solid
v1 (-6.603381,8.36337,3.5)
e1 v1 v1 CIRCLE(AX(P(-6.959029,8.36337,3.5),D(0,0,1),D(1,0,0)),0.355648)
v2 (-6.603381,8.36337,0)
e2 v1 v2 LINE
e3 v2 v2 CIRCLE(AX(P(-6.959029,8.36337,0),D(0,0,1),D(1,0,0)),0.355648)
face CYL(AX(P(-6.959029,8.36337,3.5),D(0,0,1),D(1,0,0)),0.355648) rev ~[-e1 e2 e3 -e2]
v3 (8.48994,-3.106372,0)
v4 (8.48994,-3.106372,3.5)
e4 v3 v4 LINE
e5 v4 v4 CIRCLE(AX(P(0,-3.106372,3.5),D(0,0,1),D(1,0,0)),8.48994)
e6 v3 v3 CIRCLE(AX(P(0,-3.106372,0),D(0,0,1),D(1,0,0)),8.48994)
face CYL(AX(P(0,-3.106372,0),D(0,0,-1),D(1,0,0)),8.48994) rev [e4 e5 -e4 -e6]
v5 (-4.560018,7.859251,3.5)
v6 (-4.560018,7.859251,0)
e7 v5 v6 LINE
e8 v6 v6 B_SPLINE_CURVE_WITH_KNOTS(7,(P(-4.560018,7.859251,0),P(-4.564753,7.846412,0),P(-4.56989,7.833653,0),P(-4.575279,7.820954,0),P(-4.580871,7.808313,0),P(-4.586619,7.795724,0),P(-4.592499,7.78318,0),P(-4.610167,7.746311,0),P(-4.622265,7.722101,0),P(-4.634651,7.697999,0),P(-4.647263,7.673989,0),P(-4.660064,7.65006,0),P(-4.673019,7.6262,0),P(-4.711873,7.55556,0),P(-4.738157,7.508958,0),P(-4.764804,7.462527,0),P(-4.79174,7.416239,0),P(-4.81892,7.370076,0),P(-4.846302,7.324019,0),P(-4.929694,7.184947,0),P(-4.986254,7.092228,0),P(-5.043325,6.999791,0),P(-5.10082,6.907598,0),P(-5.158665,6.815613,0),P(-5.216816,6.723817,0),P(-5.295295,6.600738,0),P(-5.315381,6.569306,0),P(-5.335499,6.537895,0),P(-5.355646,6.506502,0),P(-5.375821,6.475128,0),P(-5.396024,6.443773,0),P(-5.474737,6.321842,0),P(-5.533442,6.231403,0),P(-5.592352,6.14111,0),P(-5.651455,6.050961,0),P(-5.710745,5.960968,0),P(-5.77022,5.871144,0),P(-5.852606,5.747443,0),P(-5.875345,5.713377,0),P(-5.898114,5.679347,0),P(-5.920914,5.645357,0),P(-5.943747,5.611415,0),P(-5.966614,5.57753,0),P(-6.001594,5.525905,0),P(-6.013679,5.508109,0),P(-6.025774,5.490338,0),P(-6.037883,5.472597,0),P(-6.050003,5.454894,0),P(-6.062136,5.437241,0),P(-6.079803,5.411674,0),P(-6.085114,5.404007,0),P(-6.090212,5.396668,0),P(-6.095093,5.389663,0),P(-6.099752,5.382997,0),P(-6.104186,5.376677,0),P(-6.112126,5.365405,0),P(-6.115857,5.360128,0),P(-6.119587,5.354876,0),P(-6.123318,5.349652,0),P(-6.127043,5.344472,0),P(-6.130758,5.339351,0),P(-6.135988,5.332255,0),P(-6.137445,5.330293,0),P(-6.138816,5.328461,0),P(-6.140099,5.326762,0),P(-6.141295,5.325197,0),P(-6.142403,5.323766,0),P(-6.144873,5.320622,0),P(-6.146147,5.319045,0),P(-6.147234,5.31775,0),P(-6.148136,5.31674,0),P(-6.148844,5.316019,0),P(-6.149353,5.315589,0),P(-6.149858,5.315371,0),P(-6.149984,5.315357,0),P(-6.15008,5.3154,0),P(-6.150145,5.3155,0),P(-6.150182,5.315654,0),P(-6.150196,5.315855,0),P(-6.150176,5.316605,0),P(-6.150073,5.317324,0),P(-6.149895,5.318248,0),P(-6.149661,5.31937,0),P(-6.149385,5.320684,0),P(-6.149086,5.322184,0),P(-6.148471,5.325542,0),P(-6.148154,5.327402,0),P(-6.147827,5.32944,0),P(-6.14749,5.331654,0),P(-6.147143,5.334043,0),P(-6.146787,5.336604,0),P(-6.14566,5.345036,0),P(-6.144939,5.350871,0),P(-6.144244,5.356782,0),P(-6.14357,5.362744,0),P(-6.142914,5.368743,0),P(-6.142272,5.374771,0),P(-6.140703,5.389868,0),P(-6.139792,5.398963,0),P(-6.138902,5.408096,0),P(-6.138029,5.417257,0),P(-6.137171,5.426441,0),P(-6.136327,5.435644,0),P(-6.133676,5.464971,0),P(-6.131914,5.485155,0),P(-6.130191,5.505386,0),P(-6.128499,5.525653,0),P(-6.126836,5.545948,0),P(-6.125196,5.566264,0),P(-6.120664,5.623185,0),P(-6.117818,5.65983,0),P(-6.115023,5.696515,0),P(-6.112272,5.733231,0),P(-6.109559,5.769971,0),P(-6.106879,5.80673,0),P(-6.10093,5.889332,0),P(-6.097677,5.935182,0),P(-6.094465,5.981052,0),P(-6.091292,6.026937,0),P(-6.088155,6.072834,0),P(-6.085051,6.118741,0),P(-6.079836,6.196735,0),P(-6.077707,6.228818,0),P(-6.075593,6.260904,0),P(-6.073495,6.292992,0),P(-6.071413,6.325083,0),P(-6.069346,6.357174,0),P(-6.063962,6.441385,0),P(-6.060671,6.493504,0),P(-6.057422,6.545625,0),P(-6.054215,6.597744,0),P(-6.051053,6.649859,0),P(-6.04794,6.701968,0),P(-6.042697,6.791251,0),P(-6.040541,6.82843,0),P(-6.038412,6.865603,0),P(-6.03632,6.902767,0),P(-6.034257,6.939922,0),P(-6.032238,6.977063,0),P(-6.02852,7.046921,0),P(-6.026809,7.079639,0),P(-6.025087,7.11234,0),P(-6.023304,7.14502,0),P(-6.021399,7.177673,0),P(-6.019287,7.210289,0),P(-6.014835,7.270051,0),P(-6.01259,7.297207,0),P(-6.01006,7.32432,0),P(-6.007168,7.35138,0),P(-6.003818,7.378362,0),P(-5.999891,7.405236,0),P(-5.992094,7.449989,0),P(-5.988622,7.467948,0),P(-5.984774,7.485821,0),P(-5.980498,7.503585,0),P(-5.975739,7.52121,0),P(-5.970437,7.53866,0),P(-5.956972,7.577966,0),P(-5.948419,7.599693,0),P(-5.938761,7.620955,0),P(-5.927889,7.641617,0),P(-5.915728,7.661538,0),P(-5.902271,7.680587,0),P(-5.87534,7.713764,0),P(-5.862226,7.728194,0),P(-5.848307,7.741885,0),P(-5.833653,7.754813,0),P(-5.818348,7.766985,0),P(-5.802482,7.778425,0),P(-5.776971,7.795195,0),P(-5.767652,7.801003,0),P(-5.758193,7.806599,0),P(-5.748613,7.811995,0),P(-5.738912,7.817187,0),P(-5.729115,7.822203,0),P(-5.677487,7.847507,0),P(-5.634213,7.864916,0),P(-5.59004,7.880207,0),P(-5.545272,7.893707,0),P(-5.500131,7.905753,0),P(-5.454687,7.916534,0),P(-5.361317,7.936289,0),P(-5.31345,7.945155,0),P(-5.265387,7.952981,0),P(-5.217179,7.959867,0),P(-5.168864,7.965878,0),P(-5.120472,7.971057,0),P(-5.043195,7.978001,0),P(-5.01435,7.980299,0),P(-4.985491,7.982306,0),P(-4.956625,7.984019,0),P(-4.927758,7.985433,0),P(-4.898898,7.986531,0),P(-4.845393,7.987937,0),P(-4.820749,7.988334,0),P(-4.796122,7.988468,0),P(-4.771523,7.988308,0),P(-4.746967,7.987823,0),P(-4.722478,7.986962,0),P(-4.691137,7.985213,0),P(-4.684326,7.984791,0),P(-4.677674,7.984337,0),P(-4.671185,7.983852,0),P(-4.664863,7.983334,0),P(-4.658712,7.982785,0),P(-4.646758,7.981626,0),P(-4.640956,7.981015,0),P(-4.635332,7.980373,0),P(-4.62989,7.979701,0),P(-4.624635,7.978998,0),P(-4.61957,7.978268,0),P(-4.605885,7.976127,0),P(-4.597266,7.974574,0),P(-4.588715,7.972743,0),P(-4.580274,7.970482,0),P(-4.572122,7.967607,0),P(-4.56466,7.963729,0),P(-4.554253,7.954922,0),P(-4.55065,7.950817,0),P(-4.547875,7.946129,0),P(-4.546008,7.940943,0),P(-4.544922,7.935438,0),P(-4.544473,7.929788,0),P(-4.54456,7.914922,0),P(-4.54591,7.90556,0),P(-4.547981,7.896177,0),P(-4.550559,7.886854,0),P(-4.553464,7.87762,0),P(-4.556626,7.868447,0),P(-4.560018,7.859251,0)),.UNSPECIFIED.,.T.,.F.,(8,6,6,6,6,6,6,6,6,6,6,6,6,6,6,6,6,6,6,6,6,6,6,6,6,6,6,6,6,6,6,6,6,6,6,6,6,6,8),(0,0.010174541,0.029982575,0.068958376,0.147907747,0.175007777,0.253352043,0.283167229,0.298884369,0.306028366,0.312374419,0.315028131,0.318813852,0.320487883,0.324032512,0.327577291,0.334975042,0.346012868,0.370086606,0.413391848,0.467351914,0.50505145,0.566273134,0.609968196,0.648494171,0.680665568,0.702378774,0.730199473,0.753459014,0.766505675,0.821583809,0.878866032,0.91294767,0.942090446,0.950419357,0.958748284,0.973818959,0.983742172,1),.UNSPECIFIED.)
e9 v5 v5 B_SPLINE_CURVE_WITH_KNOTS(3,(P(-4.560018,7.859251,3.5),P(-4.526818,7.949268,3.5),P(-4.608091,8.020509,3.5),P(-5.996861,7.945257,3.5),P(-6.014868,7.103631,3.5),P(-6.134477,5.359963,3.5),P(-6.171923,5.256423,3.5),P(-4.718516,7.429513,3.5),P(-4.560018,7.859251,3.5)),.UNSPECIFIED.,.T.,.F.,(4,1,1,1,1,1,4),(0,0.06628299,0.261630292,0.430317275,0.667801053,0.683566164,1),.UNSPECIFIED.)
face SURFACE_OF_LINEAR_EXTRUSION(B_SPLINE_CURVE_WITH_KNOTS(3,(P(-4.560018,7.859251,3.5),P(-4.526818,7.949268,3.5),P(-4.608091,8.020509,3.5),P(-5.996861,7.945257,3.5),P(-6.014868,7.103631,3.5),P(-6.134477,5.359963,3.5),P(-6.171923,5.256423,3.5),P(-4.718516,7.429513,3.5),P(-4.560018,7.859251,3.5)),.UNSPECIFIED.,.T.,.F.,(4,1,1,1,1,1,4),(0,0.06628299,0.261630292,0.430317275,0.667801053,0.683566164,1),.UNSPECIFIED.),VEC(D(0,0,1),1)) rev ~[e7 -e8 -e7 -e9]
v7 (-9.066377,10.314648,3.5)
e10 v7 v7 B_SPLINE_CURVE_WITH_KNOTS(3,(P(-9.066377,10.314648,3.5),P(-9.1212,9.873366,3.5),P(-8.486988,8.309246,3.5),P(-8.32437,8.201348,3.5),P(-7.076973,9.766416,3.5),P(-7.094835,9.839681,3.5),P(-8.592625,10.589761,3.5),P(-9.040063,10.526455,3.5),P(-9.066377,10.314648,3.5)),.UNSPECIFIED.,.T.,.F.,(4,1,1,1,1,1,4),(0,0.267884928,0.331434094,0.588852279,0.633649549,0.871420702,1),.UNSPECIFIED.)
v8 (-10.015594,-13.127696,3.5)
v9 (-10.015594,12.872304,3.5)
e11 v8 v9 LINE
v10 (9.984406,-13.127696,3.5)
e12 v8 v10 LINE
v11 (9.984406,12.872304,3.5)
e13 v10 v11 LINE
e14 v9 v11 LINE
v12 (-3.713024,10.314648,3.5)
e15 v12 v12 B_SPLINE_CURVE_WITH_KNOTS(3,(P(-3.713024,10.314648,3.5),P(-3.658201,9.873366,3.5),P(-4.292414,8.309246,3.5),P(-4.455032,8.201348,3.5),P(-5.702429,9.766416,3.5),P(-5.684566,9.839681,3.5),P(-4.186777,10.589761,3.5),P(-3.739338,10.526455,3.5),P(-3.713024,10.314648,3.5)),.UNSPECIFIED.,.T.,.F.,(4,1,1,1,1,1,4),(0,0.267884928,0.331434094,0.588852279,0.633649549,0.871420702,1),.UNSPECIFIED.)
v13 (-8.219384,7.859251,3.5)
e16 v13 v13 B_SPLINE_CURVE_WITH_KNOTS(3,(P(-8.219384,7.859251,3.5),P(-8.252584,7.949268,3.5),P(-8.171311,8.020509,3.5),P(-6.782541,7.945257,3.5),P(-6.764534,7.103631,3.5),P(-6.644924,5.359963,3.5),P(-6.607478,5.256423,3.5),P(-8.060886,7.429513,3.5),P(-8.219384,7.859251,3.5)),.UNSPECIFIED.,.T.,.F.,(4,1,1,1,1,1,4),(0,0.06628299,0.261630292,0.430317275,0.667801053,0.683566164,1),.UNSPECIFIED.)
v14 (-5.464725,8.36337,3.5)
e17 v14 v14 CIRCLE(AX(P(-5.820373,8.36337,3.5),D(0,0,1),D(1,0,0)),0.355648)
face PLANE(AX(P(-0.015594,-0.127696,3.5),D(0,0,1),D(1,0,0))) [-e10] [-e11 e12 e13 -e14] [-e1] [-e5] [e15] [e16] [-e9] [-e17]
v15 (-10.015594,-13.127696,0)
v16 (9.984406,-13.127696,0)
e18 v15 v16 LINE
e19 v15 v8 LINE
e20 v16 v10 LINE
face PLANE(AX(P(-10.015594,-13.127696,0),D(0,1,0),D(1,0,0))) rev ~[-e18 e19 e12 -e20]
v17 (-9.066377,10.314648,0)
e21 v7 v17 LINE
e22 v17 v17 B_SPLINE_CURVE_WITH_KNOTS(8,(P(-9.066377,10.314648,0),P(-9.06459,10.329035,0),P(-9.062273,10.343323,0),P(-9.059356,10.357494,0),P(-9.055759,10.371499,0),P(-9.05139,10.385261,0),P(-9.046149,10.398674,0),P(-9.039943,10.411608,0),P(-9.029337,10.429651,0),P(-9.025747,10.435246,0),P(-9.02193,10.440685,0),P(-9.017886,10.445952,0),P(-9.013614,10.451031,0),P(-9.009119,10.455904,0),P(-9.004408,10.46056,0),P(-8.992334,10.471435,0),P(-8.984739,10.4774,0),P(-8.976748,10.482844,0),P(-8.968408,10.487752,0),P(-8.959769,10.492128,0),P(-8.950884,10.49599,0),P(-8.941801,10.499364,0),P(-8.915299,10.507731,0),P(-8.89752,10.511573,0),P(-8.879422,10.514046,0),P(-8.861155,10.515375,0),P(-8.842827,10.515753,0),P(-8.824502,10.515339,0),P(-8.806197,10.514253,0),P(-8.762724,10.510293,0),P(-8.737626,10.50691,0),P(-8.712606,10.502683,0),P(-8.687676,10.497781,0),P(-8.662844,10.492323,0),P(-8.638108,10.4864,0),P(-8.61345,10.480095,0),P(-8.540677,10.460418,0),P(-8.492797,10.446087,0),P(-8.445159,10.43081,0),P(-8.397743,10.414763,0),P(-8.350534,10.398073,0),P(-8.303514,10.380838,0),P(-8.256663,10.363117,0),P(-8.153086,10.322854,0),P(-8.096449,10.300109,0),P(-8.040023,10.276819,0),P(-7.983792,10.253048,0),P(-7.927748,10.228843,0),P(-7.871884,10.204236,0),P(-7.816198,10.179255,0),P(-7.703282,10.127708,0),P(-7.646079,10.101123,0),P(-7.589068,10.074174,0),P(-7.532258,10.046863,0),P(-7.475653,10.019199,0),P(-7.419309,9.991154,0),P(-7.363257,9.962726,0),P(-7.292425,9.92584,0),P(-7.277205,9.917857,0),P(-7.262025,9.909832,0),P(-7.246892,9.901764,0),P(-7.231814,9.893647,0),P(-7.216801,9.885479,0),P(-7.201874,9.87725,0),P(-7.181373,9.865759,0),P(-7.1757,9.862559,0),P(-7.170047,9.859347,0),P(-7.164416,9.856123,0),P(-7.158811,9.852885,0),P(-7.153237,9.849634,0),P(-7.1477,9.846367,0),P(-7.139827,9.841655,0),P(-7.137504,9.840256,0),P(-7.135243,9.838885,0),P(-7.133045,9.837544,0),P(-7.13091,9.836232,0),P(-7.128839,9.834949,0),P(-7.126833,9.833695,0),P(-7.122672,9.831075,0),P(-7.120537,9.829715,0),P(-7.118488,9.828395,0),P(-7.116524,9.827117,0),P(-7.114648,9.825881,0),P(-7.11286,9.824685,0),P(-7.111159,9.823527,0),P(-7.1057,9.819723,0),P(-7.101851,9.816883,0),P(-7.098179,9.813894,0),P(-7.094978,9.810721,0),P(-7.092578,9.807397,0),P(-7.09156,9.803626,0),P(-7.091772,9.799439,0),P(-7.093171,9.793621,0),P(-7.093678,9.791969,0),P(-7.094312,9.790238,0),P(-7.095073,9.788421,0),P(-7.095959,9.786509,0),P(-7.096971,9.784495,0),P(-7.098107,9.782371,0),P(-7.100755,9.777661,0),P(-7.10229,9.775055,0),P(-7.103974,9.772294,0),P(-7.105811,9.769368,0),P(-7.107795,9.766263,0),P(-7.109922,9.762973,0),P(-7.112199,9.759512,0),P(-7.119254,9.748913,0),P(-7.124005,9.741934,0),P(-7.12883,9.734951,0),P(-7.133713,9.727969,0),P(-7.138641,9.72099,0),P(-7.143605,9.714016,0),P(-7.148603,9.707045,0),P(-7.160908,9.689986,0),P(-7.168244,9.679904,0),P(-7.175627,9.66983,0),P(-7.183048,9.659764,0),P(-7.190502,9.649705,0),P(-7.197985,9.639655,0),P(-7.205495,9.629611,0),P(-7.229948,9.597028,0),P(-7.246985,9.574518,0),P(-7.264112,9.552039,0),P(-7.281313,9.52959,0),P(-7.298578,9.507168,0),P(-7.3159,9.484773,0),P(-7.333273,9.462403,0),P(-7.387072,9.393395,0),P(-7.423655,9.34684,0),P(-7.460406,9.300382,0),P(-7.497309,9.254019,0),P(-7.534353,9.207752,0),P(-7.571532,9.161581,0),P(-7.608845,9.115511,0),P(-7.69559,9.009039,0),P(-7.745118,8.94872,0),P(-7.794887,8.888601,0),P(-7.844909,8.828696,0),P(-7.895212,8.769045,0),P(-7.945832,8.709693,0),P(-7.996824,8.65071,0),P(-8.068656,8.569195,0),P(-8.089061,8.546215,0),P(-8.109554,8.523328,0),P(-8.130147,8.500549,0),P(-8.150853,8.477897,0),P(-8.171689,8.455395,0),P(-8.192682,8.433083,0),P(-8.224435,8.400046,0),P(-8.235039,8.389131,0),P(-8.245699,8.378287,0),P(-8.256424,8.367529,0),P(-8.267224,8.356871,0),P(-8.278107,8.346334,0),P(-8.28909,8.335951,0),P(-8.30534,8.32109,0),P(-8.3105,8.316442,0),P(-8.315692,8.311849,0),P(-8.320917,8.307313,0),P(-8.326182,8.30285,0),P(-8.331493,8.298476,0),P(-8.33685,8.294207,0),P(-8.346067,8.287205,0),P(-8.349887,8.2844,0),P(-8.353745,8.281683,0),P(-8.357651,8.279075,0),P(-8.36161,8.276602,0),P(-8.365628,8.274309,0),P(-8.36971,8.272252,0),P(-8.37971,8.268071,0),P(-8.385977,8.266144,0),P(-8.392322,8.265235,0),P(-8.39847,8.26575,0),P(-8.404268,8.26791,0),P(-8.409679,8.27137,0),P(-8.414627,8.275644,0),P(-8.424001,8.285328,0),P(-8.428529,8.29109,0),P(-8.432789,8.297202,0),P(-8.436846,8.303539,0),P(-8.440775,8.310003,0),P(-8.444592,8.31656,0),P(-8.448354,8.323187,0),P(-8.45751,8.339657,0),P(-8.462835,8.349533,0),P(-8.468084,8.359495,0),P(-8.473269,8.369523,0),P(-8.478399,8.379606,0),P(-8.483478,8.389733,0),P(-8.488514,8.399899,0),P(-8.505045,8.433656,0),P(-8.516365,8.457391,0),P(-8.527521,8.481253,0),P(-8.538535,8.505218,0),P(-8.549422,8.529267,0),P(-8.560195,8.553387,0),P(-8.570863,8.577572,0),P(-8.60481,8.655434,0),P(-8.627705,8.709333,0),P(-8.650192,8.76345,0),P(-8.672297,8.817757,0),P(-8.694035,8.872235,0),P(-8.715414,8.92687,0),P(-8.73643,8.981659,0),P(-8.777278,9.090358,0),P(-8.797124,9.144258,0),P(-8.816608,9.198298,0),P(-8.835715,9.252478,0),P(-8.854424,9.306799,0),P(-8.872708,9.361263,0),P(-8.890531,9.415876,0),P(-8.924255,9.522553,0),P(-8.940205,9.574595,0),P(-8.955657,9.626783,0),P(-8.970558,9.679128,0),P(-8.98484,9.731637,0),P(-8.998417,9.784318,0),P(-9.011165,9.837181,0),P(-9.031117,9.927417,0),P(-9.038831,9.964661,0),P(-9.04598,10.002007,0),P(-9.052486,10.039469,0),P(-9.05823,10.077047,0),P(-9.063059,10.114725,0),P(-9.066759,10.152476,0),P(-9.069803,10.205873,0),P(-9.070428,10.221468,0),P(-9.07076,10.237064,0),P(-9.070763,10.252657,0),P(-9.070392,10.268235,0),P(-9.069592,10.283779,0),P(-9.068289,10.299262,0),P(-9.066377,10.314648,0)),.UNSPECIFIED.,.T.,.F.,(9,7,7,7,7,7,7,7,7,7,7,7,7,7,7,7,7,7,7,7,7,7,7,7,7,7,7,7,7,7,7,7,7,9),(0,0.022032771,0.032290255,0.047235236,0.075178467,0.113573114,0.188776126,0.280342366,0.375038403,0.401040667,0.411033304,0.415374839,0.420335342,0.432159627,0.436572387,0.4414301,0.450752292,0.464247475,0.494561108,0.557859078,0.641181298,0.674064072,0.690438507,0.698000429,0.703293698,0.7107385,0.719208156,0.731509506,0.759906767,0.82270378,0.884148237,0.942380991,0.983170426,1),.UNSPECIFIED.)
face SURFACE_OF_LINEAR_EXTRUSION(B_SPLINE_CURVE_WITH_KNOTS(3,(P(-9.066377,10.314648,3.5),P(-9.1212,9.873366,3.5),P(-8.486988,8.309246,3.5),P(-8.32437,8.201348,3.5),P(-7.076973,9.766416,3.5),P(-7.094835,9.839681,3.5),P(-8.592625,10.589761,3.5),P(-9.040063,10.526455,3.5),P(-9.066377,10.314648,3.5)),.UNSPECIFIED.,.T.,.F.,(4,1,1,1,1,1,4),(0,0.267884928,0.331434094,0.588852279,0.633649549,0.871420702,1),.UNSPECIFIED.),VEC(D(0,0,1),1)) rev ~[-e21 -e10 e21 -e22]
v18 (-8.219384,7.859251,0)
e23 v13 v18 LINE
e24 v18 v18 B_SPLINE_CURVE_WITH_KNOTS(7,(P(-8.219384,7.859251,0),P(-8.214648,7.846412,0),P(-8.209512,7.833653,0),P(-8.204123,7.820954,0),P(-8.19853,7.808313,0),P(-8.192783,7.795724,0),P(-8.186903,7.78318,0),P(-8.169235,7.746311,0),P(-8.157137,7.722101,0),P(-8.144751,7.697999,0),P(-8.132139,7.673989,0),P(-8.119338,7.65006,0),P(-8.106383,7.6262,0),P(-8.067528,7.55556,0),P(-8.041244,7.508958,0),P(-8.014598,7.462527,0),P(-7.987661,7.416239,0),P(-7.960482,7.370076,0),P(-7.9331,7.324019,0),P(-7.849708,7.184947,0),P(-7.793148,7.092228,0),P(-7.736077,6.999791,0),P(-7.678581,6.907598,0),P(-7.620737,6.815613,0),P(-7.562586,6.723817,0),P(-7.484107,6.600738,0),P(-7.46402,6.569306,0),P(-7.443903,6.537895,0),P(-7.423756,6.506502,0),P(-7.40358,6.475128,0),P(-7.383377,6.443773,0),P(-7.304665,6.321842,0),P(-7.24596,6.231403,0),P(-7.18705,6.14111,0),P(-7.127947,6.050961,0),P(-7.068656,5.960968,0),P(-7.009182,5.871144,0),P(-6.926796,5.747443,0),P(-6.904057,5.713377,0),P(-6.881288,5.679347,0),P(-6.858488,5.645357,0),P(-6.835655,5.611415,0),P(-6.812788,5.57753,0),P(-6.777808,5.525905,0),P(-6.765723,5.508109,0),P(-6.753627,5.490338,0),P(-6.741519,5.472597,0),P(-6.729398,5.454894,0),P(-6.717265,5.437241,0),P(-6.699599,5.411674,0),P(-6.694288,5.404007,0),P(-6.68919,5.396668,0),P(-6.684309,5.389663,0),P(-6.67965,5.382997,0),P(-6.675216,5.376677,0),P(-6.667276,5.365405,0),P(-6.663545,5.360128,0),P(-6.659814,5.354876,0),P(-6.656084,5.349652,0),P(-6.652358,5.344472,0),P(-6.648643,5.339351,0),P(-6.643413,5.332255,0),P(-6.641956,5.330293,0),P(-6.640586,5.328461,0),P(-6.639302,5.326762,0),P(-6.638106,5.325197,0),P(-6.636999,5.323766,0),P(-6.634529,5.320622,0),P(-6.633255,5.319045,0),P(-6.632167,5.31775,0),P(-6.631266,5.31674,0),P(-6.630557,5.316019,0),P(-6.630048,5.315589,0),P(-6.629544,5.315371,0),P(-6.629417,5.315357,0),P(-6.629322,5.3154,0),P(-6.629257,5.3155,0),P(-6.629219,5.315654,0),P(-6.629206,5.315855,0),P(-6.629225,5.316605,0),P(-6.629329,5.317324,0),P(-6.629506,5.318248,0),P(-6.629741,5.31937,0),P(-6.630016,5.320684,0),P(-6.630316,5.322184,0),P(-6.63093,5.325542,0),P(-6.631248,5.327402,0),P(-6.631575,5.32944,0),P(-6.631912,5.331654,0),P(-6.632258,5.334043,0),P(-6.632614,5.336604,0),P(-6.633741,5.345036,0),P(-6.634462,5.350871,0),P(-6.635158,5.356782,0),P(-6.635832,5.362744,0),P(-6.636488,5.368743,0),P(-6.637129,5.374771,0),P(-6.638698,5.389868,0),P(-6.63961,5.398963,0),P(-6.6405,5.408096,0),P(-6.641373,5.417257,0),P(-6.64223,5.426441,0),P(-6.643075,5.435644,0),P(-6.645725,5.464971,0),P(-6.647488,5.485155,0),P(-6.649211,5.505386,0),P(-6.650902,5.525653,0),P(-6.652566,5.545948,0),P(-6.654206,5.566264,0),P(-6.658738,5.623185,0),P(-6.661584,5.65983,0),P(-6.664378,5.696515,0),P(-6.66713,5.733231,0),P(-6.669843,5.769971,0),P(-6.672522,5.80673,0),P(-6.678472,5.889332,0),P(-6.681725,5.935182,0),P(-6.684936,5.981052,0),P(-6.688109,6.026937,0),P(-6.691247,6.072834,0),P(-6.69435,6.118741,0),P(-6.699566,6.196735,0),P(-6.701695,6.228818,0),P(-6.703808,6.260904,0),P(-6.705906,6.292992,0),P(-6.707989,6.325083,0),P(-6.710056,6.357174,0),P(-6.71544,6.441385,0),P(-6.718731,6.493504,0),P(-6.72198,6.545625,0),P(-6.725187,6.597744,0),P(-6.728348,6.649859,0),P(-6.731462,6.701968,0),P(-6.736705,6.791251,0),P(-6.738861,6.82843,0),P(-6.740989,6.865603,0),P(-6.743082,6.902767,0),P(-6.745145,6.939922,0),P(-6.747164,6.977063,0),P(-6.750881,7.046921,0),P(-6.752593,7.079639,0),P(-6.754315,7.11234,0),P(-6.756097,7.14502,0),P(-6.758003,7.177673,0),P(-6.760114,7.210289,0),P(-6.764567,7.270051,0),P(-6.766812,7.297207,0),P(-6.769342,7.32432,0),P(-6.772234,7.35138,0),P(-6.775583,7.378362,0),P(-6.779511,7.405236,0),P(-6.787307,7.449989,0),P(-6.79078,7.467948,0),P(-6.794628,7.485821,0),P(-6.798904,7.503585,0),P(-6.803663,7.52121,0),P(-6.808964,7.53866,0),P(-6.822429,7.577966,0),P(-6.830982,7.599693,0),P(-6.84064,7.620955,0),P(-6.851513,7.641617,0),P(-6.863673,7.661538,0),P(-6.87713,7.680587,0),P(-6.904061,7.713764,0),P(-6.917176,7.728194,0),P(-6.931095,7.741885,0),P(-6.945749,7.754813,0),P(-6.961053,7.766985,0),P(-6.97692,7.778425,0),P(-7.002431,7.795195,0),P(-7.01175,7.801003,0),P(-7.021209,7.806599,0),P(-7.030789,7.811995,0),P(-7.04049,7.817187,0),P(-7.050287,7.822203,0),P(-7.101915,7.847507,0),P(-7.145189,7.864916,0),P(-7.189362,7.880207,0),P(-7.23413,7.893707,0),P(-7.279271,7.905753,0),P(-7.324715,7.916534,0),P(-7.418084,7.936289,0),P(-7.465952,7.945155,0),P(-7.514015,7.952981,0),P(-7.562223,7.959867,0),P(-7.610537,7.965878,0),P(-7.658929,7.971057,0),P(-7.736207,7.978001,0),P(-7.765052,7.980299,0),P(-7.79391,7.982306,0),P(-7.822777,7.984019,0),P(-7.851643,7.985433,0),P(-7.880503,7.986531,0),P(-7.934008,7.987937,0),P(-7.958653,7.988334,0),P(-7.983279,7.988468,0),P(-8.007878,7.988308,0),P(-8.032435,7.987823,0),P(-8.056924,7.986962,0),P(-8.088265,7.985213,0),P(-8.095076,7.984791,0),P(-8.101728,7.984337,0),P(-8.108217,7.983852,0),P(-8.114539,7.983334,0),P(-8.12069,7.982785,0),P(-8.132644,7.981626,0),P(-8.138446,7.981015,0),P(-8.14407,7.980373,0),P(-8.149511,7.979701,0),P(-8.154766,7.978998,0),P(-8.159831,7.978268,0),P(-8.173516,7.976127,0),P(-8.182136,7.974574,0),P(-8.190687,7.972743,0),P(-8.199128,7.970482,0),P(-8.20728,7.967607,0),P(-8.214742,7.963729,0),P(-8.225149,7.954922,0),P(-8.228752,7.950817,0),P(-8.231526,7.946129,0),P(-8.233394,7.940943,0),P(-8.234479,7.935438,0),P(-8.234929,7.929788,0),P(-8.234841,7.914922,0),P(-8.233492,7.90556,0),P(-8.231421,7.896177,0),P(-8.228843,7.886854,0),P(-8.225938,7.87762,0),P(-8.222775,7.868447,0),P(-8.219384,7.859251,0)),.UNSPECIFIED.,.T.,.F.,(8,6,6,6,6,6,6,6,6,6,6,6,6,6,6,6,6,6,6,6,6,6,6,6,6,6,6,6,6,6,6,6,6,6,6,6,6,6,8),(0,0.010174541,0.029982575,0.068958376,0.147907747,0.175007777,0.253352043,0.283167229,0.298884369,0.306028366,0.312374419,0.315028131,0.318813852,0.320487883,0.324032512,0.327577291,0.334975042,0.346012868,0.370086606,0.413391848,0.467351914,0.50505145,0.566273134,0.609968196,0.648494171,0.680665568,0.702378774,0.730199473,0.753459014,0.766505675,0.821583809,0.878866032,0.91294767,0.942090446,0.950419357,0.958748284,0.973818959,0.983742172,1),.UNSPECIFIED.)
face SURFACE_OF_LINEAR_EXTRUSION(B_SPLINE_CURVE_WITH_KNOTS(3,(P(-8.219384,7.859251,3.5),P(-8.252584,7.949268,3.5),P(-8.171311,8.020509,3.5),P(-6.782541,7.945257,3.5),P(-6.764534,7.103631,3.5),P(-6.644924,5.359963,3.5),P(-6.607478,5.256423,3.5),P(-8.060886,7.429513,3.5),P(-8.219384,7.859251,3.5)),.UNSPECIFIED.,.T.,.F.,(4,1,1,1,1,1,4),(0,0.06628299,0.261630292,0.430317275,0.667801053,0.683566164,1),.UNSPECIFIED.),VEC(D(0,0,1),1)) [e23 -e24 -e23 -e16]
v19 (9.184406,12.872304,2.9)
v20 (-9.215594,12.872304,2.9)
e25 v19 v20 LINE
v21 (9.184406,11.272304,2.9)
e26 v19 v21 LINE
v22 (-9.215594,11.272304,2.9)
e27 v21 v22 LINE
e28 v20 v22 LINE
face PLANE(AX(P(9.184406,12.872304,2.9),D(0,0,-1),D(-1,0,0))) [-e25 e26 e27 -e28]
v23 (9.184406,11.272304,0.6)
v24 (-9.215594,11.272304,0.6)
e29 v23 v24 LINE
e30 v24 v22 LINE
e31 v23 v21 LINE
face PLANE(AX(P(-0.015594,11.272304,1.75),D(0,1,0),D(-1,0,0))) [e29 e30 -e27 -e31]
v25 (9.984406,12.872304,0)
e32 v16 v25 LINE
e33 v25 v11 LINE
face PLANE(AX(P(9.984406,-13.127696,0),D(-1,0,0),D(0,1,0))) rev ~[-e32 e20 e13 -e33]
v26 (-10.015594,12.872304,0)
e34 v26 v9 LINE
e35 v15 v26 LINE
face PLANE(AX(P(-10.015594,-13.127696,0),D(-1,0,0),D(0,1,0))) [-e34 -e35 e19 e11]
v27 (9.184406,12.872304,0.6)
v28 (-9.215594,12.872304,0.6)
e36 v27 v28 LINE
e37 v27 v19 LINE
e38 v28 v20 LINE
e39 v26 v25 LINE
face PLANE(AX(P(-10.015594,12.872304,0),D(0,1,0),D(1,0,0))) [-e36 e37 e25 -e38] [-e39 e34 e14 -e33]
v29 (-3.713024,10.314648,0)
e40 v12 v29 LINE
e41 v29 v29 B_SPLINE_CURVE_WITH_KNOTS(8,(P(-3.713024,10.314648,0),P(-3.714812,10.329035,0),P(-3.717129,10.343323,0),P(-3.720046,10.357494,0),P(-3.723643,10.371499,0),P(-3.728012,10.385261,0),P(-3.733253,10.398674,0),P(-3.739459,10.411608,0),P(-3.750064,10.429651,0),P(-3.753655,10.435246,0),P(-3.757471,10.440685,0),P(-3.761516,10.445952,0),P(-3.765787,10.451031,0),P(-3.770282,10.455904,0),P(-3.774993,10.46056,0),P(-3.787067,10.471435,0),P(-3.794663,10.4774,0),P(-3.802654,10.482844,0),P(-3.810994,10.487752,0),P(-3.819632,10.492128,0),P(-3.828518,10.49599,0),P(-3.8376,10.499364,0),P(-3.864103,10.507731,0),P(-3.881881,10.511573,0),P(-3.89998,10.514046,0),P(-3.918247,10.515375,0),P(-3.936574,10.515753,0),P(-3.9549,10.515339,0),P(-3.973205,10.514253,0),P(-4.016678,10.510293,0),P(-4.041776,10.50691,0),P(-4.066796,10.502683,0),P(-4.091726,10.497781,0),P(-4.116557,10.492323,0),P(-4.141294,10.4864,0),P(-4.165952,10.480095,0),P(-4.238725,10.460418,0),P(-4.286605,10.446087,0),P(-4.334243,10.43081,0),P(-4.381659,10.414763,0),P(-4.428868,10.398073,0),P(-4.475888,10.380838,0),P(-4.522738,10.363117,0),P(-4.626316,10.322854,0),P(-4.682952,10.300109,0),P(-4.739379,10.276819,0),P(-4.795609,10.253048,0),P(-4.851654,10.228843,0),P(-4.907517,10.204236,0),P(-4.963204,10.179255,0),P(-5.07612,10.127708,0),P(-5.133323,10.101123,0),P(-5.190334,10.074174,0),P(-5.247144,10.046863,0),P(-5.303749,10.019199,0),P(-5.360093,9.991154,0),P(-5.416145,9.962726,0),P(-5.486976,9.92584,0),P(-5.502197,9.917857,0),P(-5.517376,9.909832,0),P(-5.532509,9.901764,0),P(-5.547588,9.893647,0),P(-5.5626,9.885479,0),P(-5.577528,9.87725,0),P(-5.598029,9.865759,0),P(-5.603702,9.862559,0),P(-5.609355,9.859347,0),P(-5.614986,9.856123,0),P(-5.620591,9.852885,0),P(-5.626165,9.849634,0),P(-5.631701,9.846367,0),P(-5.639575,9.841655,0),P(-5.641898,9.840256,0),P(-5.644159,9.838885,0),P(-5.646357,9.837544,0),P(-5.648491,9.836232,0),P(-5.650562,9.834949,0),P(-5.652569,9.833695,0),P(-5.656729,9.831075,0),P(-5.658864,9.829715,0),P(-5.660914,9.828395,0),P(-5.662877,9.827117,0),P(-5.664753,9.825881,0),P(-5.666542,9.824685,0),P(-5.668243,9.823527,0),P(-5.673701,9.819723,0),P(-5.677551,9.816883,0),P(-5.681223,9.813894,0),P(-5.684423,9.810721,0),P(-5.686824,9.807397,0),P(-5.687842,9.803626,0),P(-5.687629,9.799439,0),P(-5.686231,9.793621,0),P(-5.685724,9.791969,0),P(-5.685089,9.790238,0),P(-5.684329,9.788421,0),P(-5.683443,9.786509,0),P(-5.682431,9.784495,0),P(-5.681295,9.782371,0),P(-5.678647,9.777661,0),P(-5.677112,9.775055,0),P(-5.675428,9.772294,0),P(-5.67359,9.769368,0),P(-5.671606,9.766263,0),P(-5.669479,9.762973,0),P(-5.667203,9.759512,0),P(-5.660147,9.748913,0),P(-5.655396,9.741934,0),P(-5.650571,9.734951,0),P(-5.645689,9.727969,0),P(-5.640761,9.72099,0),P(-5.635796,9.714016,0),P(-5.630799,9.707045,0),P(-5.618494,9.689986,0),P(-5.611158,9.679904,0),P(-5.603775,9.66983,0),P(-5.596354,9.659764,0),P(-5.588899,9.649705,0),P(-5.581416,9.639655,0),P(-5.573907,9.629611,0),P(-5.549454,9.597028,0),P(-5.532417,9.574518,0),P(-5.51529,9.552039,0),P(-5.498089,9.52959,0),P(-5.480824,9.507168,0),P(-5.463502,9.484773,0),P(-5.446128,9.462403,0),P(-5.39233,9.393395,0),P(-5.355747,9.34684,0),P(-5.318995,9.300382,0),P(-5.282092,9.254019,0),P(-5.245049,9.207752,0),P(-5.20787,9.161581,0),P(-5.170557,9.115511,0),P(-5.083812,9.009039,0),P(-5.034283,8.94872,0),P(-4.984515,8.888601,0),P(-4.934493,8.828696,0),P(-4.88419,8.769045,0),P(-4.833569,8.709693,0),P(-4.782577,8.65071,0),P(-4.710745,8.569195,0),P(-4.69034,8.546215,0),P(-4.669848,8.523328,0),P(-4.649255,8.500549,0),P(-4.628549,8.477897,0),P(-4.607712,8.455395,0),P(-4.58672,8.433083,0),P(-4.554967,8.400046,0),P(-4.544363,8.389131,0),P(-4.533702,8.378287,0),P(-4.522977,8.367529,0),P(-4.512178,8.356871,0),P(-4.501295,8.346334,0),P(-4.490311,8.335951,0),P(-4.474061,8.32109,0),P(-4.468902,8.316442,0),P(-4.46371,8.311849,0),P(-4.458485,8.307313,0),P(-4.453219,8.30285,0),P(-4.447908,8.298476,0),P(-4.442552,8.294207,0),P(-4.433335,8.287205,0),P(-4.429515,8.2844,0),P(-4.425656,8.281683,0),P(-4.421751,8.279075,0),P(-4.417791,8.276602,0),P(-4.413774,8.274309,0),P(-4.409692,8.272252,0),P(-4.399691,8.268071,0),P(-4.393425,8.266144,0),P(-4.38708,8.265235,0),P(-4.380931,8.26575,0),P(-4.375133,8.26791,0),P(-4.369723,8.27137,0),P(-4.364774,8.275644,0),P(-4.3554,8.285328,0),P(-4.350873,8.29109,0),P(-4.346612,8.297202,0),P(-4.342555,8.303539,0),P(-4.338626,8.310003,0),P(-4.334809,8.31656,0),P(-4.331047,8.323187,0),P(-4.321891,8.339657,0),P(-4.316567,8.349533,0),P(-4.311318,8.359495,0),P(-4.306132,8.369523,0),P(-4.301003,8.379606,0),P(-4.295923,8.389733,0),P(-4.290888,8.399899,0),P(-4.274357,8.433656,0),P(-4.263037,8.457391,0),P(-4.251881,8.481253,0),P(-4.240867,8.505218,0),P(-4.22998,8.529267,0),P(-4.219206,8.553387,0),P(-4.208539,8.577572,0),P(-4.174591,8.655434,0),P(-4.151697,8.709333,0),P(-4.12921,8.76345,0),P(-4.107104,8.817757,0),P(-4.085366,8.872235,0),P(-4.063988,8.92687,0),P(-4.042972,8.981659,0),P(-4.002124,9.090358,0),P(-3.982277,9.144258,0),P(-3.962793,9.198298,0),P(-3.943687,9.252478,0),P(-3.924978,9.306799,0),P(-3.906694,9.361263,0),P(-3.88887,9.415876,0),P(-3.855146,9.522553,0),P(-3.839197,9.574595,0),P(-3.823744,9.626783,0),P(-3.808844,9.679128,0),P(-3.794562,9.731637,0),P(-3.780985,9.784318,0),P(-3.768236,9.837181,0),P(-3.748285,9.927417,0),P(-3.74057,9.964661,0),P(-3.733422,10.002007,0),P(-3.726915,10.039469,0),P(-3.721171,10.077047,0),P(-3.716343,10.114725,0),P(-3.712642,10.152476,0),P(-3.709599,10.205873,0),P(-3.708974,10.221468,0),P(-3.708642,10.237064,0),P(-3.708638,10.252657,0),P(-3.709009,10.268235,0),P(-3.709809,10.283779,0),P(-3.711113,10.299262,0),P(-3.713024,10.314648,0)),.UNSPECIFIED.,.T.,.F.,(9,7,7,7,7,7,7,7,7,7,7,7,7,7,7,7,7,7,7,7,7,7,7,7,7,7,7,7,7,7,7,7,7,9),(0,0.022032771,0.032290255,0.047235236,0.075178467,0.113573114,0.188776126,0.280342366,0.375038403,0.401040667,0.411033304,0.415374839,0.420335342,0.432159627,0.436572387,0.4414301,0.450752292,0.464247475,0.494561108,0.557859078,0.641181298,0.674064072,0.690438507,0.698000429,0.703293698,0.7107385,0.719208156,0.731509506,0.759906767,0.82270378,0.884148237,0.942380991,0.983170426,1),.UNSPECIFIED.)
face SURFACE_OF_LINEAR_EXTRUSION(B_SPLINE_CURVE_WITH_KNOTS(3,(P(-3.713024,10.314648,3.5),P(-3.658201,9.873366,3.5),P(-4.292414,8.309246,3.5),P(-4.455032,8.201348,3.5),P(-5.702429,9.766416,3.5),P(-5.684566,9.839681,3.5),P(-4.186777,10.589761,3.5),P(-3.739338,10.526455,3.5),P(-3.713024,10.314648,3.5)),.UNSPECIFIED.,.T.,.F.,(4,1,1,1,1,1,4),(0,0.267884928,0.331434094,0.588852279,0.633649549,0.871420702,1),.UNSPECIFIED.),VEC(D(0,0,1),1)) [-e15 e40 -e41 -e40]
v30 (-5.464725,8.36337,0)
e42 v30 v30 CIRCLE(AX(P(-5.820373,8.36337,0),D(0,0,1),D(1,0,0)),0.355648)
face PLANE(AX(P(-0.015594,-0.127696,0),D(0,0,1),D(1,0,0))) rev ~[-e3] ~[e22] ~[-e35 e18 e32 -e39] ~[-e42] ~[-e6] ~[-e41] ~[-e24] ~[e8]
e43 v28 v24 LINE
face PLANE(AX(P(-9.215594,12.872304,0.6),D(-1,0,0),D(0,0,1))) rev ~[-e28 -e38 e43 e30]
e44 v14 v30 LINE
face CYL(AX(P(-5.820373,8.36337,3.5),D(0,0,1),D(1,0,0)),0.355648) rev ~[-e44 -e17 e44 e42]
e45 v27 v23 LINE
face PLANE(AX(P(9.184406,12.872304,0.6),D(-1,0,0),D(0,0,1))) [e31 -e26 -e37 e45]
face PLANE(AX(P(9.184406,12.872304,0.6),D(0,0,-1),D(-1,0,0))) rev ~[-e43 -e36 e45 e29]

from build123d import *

# Parameters (mm, degrees)
F0_W     = 20
F0_H     = 26
F0_R     = 8.4899399674
F1_DEPTH = 3.5
F2_W     = 18.4
F2_H     = 2.3
F3_DEPTH = 1.6
F5_DEPTH = 25
F4_R     = 0.3556477971
F6_DEPTH = 25


with BuildPart() as f1:
    # F0 (on Top) → F1 (new body)
    with BuildSketch(Plane.XY):
        with Locations((-0.0155935995, -0.1276956055)):
            Rectangle(F0_W, F0_H)
        with Locations((0, -3.1063724309)):
            Circle(F0_R, mode=Mode.SUBTRACT)
    extrude(amount=F1_DEPTH)

    # F2 (on face) → F3 (cut)
    with BuildSketch(Plane(origin=(0, 12.8723043945, 0), x_dir=(-1, 0, 0), z_dir=(0, 1, 0))):
        with Locations((0.0155935995, 1.75)):
            Rectangle(F2_W, F2_H)
    extrude(amount=-F3_DEPTH, mode=Mode.SUBTRACT)

    # F4 (on face) → F5 (cut)
    with BuildSketch(Plane.XY.offset(3.5)):
        with BuildLine():
            add(Edge.make_bspline(
                [(-9.0663773008, 10.3146480396), (-9.121200224, 9.8733656583), (-8.4869876314, 8.3092455014), (-8.3243699239, 8.2013479436), (-7.0769728533, 9.7664160707), (-7.0948353704, 9.8396808871), (-8.5926250451, 10.5897607858), (-9.0400634166, 10.5264545761), (-9.0663773008, 10.3146480396)],
                knots=[0, 0, 0, 0, 0.2678849283, 0.3314340935, 0.5888522786, 0.6336495493, 0.8714207019, 1, 1, 1, 1], degree=3))
        make_face()
        with BuildLine():
            add(Edge.make_bspline(
                [(-3.7130243145, 10.3146480396), (-3.6582013913, 9.8733656583), (-4.2924139838, 8.3092455014), (-4.4550316914, 8.2013479436), (-5.702428762, 9.7664160707), (-5.6845662449, 9.8396808871), (-4.1867765702, 10.5897607858), (-3.7393381987, 10.5264545761), (-3.7130243145, 10.3146480396)],
                knots=[0, 0, 0, 0, 0.2678849283, 0.3314340935, 0.5888522786, 0.6336495493, 0.8714207019, 1, 1, 1, 1], degree=3))
        make_face()
        with BuildLine():
            add(Edge.make_bspline(
                [(-8.219383657, 7.8592514619), (-8.2525839404, 7.9492682682), (-8.171310555, 8.0205088545), (-6.7825406816, 7.9452571653), (-6.7645340583, 7.1036314333), (-6.6449242214, 5.3599632435), (-6.6074783523, 5.2564234712), (-8.0608860837, 7.4295128014), (-8.219383657, 7.8592514619)],
                knots=[0, 0, 0, 0, 0.0662829898, 0.2616302922, 0.4303172751, 0.667801053, 0.6835661645, 1, 1, 1, 1], degree=3))
        make_face()
        with BuildLine():
            add(Edge.make_bspline(
                [(-4.5600179583, 7.8592514619), (-4.5268176748, 7.9492682682), (-4.6080910602, 8.0205088545), (-5.9968609337, 7.9452571653), (-6.0148675569, 7.1036314333), (-6.1344773939, 5.3599632435), (-6.171923263, 5.2564234712), (-4.7185155316, 7.4295128014), (-4.5600179583, 7.8592514619)],
                knots=[0, 0, 0, 0, 0.0662829898, 0.2616302922, 0.4303172751, 0.667801053, 0.6835661645, 1, 1, 1, 1], degree=3))
        make_face()
    extrude(amount=-F5_DEPTH, mode=Mode.SUBTRACT)

    # F4 (on face) → F6 (cut)
    with BuildSketch(Plane.XY.offset(3.5)):
        with Locations((-6.9590290077, 8.3633698523)):
            Circle(F4_R)
        with Locations((-5.8203726076, 8.3633698523)):
            Circle(F4_R)
    extrude(amount=-F6_DEPTH, mode=Mode.SUBTRACT)


solid = f1.part
